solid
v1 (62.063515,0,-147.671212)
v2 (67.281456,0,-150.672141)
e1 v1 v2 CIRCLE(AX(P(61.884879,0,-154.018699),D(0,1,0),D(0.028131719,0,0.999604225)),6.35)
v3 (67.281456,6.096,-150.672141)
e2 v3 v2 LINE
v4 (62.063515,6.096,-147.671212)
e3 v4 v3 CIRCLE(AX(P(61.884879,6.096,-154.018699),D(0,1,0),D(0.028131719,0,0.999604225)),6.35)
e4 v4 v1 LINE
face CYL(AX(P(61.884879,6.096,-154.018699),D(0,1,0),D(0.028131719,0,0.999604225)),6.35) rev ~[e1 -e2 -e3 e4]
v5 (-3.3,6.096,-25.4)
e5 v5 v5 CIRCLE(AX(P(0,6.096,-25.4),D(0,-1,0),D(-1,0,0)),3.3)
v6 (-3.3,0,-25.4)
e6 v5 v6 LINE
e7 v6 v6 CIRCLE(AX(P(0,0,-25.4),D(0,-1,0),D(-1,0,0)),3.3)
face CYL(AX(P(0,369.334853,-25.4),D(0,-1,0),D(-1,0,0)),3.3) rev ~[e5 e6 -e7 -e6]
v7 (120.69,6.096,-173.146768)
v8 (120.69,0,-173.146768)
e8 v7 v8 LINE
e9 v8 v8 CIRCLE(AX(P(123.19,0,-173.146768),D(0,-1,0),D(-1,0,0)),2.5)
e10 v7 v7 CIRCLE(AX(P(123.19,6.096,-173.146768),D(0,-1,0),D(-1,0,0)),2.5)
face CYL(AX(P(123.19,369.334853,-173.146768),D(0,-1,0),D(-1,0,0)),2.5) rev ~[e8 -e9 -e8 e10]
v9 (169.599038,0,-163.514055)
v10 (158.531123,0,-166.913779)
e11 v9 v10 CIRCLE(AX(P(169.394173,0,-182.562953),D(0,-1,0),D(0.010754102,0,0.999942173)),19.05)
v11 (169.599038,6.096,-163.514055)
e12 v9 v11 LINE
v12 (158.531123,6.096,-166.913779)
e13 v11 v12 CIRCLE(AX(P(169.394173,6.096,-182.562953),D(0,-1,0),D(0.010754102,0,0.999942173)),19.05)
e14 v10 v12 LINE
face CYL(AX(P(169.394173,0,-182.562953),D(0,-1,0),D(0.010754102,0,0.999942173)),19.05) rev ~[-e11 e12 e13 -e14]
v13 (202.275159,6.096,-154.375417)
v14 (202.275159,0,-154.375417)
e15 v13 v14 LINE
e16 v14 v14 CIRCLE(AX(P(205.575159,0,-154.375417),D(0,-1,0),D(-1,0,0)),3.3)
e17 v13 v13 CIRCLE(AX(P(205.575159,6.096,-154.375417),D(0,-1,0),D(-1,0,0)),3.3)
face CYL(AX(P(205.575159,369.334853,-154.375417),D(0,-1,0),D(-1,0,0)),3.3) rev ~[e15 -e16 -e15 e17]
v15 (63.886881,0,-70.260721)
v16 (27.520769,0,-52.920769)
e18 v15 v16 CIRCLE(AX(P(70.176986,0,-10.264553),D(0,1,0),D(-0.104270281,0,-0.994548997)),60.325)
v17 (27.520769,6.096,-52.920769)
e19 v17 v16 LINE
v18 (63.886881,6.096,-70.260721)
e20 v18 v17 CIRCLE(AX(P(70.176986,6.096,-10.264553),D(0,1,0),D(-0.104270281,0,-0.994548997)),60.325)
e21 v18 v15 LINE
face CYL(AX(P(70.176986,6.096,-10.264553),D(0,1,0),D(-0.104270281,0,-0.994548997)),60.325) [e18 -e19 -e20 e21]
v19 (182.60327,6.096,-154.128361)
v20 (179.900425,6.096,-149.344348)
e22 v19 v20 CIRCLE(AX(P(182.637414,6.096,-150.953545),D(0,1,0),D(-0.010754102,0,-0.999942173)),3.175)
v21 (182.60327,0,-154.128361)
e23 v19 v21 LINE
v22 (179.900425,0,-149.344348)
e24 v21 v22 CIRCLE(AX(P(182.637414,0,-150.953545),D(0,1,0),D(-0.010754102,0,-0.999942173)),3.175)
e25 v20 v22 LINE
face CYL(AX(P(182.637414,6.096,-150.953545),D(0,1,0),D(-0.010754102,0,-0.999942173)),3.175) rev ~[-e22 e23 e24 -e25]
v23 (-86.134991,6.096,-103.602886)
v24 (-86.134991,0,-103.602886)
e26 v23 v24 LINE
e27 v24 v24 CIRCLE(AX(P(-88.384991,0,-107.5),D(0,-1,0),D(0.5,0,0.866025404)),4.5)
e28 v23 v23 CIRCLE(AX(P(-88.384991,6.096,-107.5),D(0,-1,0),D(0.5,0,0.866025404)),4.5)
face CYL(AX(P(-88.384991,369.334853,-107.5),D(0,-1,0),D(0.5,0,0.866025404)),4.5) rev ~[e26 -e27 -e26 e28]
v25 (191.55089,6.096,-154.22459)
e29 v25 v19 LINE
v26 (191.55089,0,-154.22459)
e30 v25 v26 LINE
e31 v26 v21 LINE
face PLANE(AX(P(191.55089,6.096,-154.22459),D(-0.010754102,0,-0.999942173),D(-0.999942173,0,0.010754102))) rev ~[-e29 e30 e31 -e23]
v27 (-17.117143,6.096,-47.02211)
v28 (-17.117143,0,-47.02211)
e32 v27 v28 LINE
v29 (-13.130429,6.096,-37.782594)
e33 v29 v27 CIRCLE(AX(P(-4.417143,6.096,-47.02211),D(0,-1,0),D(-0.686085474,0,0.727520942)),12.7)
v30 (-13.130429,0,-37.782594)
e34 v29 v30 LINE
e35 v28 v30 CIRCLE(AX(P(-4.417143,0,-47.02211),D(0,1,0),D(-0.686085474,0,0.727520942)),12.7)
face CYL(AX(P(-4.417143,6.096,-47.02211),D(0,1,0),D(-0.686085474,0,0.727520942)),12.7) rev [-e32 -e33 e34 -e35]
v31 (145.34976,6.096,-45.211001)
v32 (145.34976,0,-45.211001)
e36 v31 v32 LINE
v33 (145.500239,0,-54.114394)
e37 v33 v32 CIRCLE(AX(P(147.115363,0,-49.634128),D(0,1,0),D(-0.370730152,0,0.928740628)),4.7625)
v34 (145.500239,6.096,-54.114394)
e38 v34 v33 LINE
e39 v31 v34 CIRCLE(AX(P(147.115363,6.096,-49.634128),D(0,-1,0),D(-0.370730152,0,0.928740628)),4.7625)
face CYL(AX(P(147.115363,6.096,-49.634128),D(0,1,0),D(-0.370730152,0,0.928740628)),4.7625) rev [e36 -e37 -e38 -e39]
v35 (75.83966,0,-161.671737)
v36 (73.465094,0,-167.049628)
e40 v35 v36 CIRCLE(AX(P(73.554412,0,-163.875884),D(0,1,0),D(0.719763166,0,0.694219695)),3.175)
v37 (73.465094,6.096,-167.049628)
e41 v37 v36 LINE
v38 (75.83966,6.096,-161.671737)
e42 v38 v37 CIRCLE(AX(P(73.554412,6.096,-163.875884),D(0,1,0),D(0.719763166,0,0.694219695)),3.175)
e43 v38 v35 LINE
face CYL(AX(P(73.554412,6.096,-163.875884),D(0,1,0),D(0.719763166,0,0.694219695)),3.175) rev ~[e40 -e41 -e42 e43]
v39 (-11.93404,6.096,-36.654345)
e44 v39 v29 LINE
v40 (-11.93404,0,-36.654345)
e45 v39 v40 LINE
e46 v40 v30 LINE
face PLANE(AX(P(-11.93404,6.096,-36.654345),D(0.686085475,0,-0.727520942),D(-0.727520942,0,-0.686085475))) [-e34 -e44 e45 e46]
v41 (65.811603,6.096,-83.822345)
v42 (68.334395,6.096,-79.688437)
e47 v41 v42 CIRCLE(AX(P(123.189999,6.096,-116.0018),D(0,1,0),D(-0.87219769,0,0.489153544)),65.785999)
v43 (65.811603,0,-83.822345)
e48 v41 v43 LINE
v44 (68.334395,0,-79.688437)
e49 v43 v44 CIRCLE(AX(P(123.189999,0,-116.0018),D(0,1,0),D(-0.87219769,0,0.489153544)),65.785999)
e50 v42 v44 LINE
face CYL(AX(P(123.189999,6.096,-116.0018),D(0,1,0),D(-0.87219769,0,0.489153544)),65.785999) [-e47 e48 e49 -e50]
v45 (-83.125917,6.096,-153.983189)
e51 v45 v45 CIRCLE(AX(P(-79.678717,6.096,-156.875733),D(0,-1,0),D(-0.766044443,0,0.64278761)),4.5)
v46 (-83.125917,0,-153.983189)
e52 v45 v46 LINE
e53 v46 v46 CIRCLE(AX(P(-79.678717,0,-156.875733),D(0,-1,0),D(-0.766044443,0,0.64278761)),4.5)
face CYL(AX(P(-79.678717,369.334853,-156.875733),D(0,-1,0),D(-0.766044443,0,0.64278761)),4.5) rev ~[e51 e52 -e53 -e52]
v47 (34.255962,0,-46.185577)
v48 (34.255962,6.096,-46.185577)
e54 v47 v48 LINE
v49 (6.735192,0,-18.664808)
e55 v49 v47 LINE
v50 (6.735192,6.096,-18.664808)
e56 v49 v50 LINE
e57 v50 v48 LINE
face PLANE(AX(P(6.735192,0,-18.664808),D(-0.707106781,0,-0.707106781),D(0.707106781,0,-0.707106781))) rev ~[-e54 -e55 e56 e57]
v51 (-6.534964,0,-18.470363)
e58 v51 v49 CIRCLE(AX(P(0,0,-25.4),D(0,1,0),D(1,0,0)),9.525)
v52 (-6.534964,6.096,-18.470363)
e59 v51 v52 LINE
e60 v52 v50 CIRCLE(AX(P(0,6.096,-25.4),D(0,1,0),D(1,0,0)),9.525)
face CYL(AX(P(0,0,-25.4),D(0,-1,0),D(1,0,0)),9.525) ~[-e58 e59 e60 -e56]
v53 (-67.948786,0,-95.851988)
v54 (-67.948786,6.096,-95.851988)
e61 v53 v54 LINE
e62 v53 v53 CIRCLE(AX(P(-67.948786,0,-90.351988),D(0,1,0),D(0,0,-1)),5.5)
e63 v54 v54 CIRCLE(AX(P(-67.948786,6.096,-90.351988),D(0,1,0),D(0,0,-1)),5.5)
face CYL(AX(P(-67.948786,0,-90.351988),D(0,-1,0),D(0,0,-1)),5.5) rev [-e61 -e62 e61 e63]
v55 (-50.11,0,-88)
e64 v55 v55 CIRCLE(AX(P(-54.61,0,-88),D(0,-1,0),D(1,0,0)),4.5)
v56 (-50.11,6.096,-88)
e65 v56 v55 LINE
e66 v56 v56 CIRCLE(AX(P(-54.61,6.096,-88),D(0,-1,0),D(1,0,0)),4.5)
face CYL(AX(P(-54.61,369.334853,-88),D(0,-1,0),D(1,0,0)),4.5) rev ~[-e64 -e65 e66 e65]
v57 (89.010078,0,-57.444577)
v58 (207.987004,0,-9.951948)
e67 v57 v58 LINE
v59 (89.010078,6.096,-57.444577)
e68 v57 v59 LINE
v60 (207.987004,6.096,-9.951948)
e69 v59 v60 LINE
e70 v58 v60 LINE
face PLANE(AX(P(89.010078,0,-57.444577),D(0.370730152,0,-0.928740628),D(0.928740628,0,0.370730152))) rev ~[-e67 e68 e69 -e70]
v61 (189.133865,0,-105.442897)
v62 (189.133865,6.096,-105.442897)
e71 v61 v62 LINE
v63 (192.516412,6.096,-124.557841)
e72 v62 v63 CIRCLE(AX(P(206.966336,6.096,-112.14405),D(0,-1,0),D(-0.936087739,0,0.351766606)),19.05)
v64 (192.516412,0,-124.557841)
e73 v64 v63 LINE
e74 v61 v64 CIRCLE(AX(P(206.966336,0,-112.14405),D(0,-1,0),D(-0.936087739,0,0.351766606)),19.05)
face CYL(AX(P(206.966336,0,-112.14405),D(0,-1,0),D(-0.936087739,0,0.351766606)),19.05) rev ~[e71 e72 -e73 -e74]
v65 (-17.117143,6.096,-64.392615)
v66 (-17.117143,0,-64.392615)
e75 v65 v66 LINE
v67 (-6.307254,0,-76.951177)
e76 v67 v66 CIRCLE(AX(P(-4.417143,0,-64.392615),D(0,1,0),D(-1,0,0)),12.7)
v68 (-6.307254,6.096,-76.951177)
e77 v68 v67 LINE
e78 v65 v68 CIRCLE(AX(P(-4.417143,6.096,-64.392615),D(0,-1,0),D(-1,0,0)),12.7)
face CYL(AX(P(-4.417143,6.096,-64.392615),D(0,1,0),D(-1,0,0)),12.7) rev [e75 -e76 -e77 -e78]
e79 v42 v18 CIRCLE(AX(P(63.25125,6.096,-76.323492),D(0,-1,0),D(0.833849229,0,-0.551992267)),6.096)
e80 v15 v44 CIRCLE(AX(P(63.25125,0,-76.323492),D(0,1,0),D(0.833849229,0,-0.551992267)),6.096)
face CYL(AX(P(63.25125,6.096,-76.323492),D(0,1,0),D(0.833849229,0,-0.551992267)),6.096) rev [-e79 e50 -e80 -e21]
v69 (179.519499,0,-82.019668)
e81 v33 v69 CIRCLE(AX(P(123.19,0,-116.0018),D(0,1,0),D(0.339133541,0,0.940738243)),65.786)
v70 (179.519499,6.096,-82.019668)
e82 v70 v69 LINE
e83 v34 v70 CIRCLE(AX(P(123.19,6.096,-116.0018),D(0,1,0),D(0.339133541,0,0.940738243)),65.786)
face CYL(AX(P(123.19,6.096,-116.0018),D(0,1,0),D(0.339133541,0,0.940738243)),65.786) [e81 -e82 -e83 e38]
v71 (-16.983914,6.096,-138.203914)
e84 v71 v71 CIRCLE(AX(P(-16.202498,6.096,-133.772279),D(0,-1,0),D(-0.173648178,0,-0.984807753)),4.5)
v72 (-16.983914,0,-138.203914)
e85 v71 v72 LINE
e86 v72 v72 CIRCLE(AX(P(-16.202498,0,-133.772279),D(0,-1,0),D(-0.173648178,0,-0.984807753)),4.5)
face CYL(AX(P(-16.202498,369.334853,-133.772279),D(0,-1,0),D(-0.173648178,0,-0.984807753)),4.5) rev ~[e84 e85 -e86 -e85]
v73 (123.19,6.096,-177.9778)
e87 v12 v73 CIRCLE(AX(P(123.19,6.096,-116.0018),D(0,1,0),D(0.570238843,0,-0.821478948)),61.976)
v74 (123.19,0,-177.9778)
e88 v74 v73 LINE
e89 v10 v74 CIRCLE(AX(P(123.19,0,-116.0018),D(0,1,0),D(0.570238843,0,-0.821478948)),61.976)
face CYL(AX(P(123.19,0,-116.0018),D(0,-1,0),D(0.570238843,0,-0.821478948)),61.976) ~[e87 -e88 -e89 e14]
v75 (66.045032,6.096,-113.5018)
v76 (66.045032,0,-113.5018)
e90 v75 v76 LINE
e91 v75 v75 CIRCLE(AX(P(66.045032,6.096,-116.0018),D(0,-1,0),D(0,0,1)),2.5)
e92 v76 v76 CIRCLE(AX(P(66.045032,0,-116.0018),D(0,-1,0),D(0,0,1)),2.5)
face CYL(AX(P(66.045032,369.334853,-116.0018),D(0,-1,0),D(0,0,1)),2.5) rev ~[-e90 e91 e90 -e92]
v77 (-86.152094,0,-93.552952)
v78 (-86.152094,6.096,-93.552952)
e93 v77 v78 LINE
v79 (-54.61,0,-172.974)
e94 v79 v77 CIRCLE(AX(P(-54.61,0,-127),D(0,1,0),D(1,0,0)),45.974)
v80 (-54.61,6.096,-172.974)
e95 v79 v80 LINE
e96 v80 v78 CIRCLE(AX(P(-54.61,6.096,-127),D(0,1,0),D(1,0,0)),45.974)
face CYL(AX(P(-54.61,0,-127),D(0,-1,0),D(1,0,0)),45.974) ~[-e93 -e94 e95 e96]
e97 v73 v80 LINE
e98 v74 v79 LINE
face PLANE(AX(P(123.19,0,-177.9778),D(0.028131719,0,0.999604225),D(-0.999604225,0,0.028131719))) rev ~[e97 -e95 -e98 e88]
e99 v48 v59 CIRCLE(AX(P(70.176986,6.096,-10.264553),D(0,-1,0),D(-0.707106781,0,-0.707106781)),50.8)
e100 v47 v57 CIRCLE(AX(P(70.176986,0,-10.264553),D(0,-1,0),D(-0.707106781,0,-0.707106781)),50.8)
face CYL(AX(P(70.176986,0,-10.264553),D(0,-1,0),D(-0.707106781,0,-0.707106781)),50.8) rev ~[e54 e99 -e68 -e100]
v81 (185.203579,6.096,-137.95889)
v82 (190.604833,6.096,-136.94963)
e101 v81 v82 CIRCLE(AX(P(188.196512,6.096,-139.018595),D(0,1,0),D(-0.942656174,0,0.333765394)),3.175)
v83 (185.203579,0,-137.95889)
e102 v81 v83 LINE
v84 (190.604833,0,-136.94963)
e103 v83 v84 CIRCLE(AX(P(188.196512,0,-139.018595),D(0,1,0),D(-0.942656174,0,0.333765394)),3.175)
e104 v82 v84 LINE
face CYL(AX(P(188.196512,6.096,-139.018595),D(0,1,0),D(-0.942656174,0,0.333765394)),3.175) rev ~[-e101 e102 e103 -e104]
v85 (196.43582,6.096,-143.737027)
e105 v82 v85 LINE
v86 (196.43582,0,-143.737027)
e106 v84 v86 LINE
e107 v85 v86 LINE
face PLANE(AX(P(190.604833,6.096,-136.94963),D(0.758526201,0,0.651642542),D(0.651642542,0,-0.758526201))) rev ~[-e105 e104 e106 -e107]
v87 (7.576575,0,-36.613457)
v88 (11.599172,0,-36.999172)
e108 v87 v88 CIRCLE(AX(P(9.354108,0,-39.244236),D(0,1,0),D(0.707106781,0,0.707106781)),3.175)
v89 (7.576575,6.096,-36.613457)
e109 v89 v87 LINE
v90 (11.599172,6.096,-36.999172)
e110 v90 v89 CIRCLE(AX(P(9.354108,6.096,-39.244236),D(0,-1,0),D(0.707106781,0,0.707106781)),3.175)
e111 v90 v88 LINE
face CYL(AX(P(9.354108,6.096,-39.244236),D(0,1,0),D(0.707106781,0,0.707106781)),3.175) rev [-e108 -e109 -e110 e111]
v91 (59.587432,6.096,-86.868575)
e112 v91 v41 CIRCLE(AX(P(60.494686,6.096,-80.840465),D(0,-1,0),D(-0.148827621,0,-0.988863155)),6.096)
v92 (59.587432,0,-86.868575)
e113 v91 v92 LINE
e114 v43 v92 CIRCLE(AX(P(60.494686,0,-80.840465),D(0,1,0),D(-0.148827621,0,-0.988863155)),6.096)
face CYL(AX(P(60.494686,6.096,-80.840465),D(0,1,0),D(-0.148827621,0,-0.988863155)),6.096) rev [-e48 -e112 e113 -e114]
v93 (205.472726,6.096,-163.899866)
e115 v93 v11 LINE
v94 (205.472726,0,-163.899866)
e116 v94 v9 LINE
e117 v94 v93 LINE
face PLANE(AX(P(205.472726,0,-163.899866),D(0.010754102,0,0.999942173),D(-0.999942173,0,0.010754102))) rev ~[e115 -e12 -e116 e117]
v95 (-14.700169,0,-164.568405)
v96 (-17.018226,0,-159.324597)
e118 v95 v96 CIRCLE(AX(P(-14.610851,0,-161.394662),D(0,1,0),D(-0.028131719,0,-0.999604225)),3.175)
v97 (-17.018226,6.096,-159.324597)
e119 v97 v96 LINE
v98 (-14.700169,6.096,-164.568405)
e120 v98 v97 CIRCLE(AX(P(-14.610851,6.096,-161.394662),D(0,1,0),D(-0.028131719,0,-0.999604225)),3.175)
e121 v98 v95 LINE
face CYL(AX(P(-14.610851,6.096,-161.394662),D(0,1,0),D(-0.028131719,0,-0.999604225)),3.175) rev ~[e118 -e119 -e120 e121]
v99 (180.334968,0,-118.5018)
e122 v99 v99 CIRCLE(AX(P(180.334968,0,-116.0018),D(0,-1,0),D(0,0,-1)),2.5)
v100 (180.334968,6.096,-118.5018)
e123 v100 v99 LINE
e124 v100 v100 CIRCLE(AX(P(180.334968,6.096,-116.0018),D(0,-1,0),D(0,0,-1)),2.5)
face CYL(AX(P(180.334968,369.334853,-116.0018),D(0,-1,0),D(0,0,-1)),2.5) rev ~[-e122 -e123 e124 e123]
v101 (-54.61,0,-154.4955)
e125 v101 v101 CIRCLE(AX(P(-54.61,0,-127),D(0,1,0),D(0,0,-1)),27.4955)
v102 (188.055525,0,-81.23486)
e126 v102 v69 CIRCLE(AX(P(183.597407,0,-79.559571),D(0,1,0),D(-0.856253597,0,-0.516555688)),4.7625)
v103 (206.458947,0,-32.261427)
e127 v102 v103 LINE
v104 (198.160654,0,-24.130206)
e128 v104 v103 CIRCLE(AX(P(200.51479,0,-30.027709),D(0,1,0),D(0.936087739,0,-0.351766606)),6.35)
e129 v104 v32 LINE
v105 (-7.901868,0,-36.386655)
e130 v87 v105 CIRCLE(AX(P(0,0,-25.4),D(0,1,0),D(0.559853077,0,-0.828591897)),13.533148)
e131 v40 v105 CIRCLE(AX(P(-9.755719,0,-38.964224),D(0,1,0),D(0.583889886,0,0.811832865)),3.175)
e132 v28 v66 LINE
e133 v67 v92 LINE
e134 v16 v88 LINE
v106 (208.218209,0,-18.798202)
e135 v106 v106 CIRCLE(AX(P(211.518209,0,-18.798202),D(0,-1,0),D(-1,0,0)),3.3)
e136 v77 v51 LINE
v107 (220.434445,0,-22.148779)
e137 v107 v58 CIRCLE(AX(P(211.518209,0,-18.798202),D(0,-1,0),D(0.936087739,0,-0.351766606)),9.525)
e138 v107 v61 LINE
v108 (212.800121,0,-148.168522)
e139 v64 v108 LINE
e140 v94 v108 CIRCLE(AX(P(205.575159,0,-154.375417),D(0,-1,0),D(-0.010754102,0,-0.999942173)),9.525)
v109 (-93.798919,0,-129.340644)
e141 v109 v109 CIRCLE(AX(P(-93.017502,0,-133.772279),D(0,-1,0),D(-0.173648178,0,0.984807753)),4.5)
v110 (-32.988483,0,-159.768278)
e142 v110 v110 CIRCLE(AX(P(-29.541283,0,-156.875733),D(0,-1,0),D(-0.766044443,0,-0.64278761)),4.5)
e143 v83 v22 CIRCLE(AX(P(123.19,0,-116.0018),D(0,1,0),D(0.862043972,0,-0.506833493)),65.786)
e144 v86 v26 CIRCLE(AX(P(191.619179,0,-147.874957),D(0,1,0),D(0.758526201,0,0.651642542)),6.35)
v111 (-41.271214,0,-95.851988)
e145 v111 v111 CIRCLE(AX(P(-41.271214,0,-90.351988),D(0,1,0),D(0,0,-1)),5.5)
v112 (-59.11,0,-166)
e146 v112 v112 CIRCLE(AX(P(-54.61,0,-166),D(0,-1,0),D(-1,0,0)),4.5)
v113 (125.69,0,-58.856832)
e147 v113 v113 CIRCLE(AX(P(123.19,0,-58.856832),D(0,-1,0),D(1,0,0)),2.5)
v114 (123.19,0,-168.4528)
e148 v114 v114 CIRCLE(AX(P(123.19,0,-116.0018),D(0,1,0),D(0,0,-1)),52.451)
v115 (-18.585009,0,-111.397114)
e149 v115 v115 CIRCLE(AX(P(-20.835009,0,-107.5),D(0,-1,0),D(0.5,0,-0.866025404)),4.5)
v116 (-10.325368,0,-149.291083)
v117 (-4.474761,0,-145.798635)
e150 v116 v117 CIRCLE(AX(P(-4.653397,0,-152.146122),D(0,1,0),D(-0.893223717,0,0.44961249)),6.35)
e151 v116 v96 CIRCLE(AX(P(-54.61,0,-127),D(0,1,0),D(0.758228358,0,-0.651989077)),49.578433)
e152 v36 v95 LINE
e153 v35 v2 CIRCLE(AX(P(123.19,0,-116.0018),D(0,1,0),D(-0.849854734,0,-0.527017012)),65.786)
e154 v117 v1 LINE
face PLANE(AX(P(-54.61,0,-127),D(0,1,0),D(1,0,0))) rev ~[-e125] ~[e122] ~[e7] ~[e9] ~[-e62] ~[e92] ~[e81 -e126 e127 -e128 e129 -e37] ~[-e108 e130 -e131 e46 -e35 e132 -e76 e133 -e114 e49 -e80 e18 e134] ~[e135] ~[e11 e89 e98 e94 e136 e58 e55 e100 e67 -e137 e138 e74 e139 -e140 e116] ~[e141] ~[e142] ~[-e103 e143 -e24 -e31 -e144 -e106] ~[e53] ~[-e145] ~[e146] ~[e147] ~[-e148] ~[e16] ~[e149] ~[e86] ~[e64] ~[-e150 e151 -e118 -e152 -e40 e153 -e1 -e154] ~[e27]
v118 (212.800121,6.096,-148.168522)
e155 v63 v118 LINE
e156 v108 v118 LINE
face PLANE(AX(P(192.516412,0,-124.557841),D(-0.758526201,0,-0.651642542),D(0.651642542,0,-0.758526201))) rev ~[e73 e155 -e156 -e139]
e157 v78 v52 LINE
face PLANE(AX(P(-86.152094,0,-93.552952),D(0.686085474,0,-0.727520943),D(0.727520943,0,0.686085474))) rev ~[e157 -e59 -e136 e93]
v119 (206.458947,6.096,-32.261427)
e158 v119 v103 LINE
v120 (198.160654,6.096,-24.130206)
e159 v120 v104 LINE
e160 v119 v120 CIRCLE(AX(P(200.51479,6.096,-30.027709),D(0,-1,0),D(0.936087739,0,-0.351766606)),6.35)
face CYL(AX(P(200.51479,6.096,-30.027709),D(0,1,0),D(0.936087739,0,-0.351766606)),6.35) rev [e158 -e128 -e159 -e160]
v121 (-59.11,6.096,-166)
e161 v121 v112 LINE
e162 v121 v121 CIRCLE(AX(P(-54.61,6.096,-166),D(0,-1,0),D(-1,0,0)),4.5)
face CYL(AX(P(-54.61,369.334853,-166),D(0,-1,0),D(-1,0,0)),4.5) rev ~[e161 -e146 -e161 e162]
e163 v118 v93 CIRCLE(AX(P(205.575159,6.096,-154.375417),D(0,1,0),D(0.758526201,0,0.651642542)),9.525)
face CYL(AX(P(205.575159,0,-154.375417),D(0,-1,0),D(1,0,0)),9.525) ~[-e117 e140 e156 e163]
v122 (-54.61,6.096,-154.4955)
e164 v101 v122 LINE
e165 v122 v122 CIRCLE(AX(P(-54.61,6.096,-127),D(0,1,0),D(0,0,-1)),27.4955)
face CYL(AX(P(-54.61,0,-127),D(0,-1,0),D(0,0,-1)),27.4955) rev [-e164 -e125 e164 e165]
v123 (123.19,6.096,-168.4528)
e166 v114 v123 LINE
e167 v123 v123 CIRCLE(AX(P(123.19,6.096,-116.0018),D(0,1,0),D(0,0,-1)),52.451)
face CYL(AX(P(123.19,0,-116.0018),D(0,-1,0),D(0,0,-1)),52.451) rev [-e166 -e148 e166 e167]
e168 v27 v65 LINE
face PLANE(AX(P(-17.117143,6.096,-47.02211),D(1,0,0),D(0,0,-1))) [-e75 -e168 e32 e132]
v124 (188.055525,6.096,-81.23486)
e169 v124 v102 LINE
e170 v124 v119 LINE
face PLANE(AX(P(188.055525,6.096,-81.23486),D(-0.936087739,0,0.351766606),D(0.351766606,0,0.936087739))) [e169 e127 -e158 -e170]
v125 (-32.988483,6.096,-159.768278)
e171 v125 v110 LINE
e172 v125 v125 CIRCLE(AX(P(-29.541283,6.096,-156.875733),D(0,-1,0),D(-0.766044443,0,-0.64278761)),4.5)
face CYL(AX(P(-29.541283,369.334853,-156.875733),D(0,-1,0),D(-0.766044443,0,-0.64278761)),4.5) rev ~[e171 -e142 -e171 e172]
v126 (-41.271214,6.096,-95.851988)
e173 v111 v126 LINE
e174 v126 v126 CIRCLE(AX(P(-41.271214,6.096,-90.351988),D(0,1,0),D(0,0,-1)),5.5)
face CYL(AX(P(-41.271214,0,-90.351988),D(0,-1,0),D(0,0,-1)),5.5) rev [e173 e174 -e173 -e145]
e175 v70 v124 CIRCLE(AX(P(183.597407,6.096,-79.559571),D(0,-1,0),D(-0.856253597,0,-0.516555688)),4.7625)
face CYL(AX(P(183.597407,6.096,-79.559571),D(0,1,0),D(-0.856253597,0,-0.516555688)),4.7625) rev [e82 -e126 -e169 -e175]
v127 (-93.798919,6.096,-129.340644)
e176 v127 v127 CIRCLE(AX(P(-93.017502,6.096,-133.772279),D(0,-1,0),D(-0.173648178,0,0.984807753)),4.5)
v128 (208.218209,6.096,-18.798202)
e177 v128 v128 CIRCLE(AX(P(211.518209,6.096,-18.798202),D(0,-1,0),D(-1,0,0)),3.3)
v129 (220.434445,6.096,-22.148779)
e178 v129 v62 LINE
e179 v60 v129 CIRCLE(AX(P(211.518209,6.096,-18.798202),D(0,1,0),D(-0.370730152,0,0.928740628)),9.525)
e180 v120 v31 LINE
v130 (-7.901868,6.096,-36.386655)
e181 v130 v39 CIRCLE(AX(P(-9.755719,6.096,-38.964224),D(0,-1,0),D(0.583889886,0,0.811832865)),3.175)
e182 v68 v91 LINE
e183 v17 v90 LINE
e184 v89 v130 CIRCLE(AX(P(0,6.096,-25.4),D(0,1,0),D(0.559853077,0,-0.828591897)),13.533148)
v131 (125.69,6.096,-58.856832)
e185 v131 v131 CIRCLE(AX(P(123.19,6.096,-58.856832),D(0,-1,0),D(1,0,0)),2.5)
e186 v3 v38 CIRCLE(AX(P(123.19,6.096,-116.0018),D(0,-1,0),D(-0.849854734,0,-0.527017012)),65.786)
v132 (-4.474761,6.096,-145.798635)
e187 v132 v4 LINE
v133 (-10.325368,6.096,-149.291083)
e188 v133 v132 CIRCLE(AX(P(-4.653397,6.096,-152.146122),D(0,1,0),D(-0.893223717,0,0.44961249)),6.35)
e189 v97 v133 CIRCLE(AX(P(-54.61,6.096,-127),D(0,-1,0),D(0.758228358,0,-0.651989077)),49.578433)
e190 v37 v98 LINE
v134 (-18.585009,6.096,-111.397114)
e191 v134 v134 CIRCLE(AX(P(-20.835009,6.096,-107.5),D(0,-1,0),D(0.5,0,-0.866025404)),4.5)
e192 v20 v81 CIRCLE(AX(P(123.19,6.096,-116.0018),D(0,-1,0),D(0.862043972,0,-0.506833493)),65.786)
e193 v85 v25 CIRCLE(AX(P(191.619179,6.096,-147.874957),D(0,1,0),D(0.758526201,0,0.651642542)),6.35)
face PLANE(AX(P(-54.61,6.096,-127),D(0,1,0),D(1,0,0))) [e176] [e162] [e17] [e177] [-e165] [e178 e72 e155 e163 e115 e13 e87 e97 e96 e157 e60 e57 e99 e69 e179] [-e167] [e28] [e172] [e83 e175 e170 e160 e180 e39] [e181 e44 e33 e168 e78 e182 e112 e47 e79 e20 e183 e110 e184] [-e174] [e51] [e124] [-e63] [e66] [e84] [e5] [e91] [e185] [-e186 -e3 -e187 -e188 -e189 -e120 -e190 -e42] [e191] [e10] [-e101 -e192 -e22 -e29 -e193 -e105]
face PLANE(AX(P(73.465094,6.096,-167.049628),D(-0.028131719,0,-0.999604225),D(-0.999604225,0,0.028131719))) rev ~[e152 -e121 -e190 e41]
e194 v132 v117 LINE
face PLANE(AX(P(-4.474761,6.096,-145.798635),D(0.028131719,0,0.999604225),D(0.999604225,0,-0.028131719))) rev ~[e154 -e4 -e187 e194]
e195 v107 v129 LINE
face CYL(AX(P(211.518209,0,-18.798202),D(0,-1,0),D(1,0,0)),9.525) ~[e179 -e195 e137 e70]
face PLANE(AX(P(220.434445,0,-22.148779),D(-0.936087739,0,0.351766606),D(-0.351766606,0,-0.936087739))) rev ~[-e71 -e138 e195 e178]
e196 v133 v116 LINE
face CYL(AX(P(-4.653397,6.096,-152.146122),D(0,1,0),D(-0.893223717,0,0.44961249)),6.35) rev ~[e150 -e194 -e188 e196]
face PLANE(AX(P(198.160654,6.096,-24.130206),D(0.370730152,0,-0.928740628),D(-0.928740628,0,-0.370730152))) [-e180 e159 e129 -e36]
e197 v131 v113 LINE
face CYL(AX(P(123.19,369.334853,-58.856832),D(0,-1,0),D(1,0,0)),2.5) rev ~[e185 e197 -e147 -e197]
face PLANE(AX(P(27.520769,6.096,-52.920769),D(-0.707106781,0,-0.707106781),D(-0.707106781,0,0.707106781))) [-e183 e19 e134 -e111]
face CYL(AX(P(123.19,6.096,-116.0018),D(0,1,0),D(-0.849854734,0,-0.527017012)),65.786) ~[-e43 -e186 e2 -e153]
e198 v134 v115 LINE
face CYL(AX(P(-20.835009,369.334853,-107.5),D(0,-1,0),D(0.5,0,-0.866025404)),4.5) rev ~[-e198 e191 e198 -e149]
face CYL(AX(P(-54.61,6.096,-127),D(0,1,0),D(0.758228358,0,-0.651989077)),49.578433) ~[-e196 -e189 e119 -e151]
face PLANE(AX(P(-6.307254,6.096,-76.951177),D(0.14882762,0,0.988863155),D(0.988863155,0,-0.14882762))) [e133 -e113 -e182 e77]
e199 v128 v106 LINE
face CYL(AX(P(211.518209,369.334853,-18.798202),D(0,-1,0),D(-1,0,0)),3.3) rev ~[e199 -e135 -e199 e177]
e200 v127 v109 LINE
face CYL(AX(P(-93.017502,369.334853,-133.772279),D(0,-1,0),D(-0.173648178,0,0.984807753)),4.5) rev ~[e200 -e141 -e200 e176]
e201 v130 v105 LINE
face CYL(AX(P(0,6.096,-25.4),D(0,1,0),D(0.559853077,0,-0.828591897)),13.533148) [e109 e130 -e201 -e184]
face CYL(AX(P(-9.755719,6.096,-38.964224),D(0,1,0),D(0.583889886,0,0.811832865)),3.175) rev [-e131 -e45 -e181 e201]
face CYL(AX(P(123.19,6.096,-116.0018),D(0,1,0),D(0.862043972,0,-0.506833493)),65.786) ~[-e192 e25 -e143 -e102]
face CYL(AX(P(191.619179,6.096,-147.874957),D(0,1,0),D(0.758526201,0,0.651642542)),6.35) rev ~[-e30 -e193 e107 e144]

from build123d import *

# Parameters (mm, degrees)
MASTER_SKETCH_R       = 52.451
MASTER_SKETCH_R_2     = 9.525
MASTER_SKETCH_R_3     = 45.974
MASTER_SKETCH_R_4     = 27.4955
MASTER_SKETCH_R_5     = 5.5
BOSS_EXTRUDE2_DEPTH   = 6.096
F_5_0MM_DOWEL_HOLE1_D = 5
CIRPATTERN4_COUNT     = 4
M6_CLEARANCE_HOLE4_D  = 6.6
M8_CLEARANCE_HOLE1_D  = 9
CIRPATTERN3_COUNT     = 18
CUT_EXTRUDE1_DEPTH    = 284.854467488


with BuildPart() as part:
    # Master Sketch → Boss-Extrude2 (new body)
    # profile 1 of 5: a face of its own
    with BuildSketch(Plane(origin=(0, 0, 0), x_dir=(1, 0, 0), z_dir=(0, 1, 0))):
        with BuildLine():
            ThreePointArc((-8.636, 127), (-36.396097826, 84.787887478), (-86.152093601, 93.552952189))
            Line((-86.152093601, 93.552952189), (-6.534964144, 18.470363023))
            ThreePointArc((-6.534964144, 18.470363023), (-3.773598517, 34.145603423), (9.525, 25.4))
            ThreePointArc((9.525, 25.4), (8.799952547, 21.754940307), (6.735192091, 18.664807909))
            Line((6.735192091, 18.664807909), (34.255961574, 46.185577392))
            ThreePointArc((34.255961574, 46.185577392), (59.945142207, 60.02346539), (89.010077776, 57.44457682))
            Line((89.010077776, 57.44457682), (207.987004211, 9.951947906))
            ThreePointArc((207.987004211, 9.951947906), (204.851852042, 25.601533276), (220.43444462, 22.148779315))
            Line((220.43444462, 22.148779315), (189.133864847, 105.44289655))
            ThreePointArc((189.133864847, 105.44289655), (188.207777178, 115.4635324), (192.51641215, 124.557840832))
            Line((192.51641215, 124.557840832), (212.800120602, 148.168522003))
            ThreePointArc((212.800120602, 148.168522003), (196.940842995, 150.353698677), (205.472725722, 163.899866417))
            Line((205.472725722, 163.899866417), (169.599038165, 163.514054819))
            ThreePointArc((169.599038165, 163.514054819), (163.800537316, 164.352688386), (158.531122559, 166.913779261))
            ThreePointArc((158.531122559, 166.913779261), (141.706259737, 175.147152322), (123.19, 177.9778))
            Line((123.19, 177.9778), (-54.61, 172.974))
            ThreePointArc((-54.61, 172.974), (-22.101472842, 159.508527158), (-8.636, 127))
        make_face()
        with Locations(Location((123.19, 116.0018, 0), (0, 0, 90))):
            Circle(MASTER_SKETCH_R, mode=Mode.SUBTRACT)
    # profile 2 of 5: a face of its own
    with BuildSketch(Plane(origin=(0, 0, 0), x_dir=(1, 0, 0), z_dir=(0, 1, 0))):
        with Locations((0, 25.4)):
            Circle(MASTER_SKETCH_R_2)
    # profile 3 of 5: a face of its own
    with BuildSketch(Plane(origin=(0, 0, 0), x_dir=(1, 0, 0), z_dir=(0, 1, 0))):
        with Locations((211.518208908, 18.79820239)):
            Circle(MASTER_SKETCH_R_2)
    # profile 4 of 5: a face of its own
    with BuildSketch(Plane(origin=(0, 0, 0), x_dir=(1, 0, 0), z_dir=(0, 1, 0))):
        with Locations((205.575158542, 154.375417219)):
            Circle(MASTER_SKETCH_R_2)
    # profile 5 of 5: a face of its own
    with BuildSketch(Plane(origin=(0, 0, 0), x_dir=(1, 0, 0), z_dir=(0, 1, 0))):
        with Locations((-54.61, 127)):
            Circle(MASTER_SKETCH_R_3)
        with Locations(Location((-54.61, 127, 0), (0, 0, 90))):
            Circle(MASTER_SKETCH_R_4, mode=Mode.SUBTRACT)
        with Locations(Location((-41.27121441, 90.351987789, 0), (0, 0, 90))):
            Circle(MASTER_SKETCH_R_5, mode=Mode.SUBTRACT)
        with Locations(Location((-67.94878559, 90.351987789, 0), (0, 0, 90))):
            Circle(MASTER_SKETCH_R_5, mode=Mode.SUBTRACT)
    extrude(amount=BOSS_EXTRUDE2_DEPTH)

    # Ø5.0mm Dowel Hole1 (through all)
    with Locations(Plane(origin=(0, 6.096, 0), x_dir=(1, 0, 0), z_dir=(0, 1, 0))):
        with Locations((123.19, 173.14676824)):
            f_5_0mm_dowel_hole1 = Hole(F_5_0MM_DOWEL_HOLE1_D / 2)

    # CirPattern4: Ø5.0mm Dowel Hole1 ×4 about axis
    cirpattern4_axis = Axis((123.19, 0, -116.0018), (0, 1, 0))
    for i in range(1, CIRPATTERN4_COUNT):
        add(f_5_0mm_dowel_hole1.rotate(cirpattern4_axis, i * 360 / CIRPATTERN4_COUNT), mode=Mode.SUBTRACT)

    # M6 Clearance Hole4 (through all)
    with Locations(Plane(origin=(0, 6.096, 0), x_dir=(1, 0, 0), z_dir=(0, 1, 0))):
        with Locations((205.575158542, 154.375417219), (211.518208908, 18.79820239), (0, 25.4)):
            Hole(M6_CLEARANCE_HOLE4_D / 2)

    # M8 Clearance Hole1 (through all)
    with Locations(Plane(origin=(0, 6.096, 0), x_dir=(1, 0, 0), z_dir=(0, 1, 0))):
        with Locations((-54.61, 166)):
            m8_clearance_hole1 = Hole(M8_CLEARANCE_HOLE1_D / 2)

    # CirPattern3: M8 Clearance Hole1 ×18 about axis, 10 skipped
    cirpattern3_axis = Axis((-54.61, 6.096, -127), (0, -1, 0))
    add([m8_clearance_hole1.rotate(cirpattern3_axis, i * 360 / CIRPATTERN3_COUNT) for i in range(1, CIRPATTERN3_COUNT) if i not in (1, 3, 5, 7, 8, 10, 11, 13, 15, 17)], mode=Mode.SUBTRACT)

    # Topology 1 → Cut-Extrude1 (cut, through all)
    with BuildSketch(Plane(origin=(0, 6.096, 0), x_dir=(1, 0, 0), z_dir=(0, 1, 0))):
        with BuildLine():
            ThreePointArc((67.281456447, 150.672141126), (71.26845327, 156.399210575), (75.839660388, 161.67173688))
            ThreePointArc((75.839660388, 161.67173688), (76.458883843, 165.158331399), (73.46509413, 167.049627827))
            Line((73.46509413, 167.049627827), (-14.700169403, 164.56840541))
            ThreePointArc((-14.700169403, 164.56840541), (-17.514771269, 162.678357132), (-17.018226233, 159.324596677))
            ThreePointArc((-17.018226233, 159.324596677), (-13.365554188, 154.512119056), (-10.325367902, 149.291082638))
            ThreePointArc((-10.325367902, 149.291082638), (-7.908159584, 146.693689239), (-4.474760882, 145.79863512))
            Line((-4.474760882, 145.79863512), (62.063515299, 147.671212322))
            ThreePointArc((62.063515299, 147.671212322), (65.050656221, 148.51412343), (67.281456447, 150.672141126))
        make_face()
        with BuildLine():
            ThreePointArc((68.334394598, 79.68843673), (68.764556906, 73.722595945), (63.886881332, 70.260721182))
            ThreePointArc((63.886881332, 70.260721182), (44.213471784, 64.716380715), (27.520769483, 52.920769483))
            Line((27.520769483, 52.920769483), (11.599172261, 36.999172261))
            ThreePointArc((11.599172261, 36.999172261), (9.657159805, 36.083732416), (7.576574711, 36.613457017))
            ThreePointArc((7.576574711, 36.613457017), (-0.198277171, 38.93169571), (-7.901868408, 36.386654554))
            ThreePointArc((-7.901868408, 36.386654554), (-9.966039712, 35.796197685), (-11.934040176, 36.65434491))
            Line((-11.934040176, 36.65434491), (-13.130428791, 37.782594013))
            ThreePointArc((-13.130428791, 37.782594013), (-16.07794783, 41.990645294), (-17.117143266, 47.022109982))
            Line((-17.117143266, 47.022109982), (-17.117143266, 64.392614711))
            ThreePointArc((-17.117143266, 64.392614711), (-14.042484998, 72.677709553), (-6.307254046, 76.95117678))
            Line((-6.307254046, 76.95117678), (59.587432499, 86.868574701))
            ThreePointArc((59.587432499, 86.868574701), (63.174454879, 86.315869277), (65.811602789, 83.822344916))
            ThreePointArc((65.811602789, 83.822344916), (67.034945598, 81.732168237), (68.334394598, 79.68843673))
        make_face()
        with BuildLine():
            ThreePointArc((206.458947193, 32.26142708), (204.959027962, 25.492155206), (198.160653587, 24.130206141))
            Line((198.160653587, 24.130206141), (145.349760257, 45.211000835))
            ThreePointArc((145.349760257, 45.211000835), (142.353542672, 49.714608993), (145.500239117, 54.114393959))
            ThreePointArc((145.500239117, 54.114393959), (164.91203471, 65.138555749), (179.519499105, 82.019667539))
            ThreePointArc((179.519499105, 82.019667539), (184.033435332, 84.302068881), (188.055524715, 81.234859539))
            Line((188.055524715, 81.234859539), (206.458947193, 32.26142708))
        make_face()
        with BuildLine():
            Line((190.604833072, 136.949630286), (196.435820245, 143.737027147))
            ThreePointArc((196.435820245, 143.737027147), (197.375389236, 150.556102986), (191.550890325, 154.22459009))
            Line((191.550890325, 154.22459009), (182.60327011, 154.128360907))
            ThreePointArc((182.60327011, 154.128360907), (179.873089832, 152.515317466), (179.900424771, 149.344348167))
            ThreePointArc((179.900424771, 149.344348167), (182.824339377, 143.778469401), (185.203579034, 137.958890231))
            ThreePointArc((185.203579034, 137.958890231), (187.613336253, 135.897613045), (190.604833072, 136.949630286))
        make_face()
    extrude(amount=-CUT_EXTRUDE1_DEPTH, mode=Mode.SUBTRACT)


solid = part.part
